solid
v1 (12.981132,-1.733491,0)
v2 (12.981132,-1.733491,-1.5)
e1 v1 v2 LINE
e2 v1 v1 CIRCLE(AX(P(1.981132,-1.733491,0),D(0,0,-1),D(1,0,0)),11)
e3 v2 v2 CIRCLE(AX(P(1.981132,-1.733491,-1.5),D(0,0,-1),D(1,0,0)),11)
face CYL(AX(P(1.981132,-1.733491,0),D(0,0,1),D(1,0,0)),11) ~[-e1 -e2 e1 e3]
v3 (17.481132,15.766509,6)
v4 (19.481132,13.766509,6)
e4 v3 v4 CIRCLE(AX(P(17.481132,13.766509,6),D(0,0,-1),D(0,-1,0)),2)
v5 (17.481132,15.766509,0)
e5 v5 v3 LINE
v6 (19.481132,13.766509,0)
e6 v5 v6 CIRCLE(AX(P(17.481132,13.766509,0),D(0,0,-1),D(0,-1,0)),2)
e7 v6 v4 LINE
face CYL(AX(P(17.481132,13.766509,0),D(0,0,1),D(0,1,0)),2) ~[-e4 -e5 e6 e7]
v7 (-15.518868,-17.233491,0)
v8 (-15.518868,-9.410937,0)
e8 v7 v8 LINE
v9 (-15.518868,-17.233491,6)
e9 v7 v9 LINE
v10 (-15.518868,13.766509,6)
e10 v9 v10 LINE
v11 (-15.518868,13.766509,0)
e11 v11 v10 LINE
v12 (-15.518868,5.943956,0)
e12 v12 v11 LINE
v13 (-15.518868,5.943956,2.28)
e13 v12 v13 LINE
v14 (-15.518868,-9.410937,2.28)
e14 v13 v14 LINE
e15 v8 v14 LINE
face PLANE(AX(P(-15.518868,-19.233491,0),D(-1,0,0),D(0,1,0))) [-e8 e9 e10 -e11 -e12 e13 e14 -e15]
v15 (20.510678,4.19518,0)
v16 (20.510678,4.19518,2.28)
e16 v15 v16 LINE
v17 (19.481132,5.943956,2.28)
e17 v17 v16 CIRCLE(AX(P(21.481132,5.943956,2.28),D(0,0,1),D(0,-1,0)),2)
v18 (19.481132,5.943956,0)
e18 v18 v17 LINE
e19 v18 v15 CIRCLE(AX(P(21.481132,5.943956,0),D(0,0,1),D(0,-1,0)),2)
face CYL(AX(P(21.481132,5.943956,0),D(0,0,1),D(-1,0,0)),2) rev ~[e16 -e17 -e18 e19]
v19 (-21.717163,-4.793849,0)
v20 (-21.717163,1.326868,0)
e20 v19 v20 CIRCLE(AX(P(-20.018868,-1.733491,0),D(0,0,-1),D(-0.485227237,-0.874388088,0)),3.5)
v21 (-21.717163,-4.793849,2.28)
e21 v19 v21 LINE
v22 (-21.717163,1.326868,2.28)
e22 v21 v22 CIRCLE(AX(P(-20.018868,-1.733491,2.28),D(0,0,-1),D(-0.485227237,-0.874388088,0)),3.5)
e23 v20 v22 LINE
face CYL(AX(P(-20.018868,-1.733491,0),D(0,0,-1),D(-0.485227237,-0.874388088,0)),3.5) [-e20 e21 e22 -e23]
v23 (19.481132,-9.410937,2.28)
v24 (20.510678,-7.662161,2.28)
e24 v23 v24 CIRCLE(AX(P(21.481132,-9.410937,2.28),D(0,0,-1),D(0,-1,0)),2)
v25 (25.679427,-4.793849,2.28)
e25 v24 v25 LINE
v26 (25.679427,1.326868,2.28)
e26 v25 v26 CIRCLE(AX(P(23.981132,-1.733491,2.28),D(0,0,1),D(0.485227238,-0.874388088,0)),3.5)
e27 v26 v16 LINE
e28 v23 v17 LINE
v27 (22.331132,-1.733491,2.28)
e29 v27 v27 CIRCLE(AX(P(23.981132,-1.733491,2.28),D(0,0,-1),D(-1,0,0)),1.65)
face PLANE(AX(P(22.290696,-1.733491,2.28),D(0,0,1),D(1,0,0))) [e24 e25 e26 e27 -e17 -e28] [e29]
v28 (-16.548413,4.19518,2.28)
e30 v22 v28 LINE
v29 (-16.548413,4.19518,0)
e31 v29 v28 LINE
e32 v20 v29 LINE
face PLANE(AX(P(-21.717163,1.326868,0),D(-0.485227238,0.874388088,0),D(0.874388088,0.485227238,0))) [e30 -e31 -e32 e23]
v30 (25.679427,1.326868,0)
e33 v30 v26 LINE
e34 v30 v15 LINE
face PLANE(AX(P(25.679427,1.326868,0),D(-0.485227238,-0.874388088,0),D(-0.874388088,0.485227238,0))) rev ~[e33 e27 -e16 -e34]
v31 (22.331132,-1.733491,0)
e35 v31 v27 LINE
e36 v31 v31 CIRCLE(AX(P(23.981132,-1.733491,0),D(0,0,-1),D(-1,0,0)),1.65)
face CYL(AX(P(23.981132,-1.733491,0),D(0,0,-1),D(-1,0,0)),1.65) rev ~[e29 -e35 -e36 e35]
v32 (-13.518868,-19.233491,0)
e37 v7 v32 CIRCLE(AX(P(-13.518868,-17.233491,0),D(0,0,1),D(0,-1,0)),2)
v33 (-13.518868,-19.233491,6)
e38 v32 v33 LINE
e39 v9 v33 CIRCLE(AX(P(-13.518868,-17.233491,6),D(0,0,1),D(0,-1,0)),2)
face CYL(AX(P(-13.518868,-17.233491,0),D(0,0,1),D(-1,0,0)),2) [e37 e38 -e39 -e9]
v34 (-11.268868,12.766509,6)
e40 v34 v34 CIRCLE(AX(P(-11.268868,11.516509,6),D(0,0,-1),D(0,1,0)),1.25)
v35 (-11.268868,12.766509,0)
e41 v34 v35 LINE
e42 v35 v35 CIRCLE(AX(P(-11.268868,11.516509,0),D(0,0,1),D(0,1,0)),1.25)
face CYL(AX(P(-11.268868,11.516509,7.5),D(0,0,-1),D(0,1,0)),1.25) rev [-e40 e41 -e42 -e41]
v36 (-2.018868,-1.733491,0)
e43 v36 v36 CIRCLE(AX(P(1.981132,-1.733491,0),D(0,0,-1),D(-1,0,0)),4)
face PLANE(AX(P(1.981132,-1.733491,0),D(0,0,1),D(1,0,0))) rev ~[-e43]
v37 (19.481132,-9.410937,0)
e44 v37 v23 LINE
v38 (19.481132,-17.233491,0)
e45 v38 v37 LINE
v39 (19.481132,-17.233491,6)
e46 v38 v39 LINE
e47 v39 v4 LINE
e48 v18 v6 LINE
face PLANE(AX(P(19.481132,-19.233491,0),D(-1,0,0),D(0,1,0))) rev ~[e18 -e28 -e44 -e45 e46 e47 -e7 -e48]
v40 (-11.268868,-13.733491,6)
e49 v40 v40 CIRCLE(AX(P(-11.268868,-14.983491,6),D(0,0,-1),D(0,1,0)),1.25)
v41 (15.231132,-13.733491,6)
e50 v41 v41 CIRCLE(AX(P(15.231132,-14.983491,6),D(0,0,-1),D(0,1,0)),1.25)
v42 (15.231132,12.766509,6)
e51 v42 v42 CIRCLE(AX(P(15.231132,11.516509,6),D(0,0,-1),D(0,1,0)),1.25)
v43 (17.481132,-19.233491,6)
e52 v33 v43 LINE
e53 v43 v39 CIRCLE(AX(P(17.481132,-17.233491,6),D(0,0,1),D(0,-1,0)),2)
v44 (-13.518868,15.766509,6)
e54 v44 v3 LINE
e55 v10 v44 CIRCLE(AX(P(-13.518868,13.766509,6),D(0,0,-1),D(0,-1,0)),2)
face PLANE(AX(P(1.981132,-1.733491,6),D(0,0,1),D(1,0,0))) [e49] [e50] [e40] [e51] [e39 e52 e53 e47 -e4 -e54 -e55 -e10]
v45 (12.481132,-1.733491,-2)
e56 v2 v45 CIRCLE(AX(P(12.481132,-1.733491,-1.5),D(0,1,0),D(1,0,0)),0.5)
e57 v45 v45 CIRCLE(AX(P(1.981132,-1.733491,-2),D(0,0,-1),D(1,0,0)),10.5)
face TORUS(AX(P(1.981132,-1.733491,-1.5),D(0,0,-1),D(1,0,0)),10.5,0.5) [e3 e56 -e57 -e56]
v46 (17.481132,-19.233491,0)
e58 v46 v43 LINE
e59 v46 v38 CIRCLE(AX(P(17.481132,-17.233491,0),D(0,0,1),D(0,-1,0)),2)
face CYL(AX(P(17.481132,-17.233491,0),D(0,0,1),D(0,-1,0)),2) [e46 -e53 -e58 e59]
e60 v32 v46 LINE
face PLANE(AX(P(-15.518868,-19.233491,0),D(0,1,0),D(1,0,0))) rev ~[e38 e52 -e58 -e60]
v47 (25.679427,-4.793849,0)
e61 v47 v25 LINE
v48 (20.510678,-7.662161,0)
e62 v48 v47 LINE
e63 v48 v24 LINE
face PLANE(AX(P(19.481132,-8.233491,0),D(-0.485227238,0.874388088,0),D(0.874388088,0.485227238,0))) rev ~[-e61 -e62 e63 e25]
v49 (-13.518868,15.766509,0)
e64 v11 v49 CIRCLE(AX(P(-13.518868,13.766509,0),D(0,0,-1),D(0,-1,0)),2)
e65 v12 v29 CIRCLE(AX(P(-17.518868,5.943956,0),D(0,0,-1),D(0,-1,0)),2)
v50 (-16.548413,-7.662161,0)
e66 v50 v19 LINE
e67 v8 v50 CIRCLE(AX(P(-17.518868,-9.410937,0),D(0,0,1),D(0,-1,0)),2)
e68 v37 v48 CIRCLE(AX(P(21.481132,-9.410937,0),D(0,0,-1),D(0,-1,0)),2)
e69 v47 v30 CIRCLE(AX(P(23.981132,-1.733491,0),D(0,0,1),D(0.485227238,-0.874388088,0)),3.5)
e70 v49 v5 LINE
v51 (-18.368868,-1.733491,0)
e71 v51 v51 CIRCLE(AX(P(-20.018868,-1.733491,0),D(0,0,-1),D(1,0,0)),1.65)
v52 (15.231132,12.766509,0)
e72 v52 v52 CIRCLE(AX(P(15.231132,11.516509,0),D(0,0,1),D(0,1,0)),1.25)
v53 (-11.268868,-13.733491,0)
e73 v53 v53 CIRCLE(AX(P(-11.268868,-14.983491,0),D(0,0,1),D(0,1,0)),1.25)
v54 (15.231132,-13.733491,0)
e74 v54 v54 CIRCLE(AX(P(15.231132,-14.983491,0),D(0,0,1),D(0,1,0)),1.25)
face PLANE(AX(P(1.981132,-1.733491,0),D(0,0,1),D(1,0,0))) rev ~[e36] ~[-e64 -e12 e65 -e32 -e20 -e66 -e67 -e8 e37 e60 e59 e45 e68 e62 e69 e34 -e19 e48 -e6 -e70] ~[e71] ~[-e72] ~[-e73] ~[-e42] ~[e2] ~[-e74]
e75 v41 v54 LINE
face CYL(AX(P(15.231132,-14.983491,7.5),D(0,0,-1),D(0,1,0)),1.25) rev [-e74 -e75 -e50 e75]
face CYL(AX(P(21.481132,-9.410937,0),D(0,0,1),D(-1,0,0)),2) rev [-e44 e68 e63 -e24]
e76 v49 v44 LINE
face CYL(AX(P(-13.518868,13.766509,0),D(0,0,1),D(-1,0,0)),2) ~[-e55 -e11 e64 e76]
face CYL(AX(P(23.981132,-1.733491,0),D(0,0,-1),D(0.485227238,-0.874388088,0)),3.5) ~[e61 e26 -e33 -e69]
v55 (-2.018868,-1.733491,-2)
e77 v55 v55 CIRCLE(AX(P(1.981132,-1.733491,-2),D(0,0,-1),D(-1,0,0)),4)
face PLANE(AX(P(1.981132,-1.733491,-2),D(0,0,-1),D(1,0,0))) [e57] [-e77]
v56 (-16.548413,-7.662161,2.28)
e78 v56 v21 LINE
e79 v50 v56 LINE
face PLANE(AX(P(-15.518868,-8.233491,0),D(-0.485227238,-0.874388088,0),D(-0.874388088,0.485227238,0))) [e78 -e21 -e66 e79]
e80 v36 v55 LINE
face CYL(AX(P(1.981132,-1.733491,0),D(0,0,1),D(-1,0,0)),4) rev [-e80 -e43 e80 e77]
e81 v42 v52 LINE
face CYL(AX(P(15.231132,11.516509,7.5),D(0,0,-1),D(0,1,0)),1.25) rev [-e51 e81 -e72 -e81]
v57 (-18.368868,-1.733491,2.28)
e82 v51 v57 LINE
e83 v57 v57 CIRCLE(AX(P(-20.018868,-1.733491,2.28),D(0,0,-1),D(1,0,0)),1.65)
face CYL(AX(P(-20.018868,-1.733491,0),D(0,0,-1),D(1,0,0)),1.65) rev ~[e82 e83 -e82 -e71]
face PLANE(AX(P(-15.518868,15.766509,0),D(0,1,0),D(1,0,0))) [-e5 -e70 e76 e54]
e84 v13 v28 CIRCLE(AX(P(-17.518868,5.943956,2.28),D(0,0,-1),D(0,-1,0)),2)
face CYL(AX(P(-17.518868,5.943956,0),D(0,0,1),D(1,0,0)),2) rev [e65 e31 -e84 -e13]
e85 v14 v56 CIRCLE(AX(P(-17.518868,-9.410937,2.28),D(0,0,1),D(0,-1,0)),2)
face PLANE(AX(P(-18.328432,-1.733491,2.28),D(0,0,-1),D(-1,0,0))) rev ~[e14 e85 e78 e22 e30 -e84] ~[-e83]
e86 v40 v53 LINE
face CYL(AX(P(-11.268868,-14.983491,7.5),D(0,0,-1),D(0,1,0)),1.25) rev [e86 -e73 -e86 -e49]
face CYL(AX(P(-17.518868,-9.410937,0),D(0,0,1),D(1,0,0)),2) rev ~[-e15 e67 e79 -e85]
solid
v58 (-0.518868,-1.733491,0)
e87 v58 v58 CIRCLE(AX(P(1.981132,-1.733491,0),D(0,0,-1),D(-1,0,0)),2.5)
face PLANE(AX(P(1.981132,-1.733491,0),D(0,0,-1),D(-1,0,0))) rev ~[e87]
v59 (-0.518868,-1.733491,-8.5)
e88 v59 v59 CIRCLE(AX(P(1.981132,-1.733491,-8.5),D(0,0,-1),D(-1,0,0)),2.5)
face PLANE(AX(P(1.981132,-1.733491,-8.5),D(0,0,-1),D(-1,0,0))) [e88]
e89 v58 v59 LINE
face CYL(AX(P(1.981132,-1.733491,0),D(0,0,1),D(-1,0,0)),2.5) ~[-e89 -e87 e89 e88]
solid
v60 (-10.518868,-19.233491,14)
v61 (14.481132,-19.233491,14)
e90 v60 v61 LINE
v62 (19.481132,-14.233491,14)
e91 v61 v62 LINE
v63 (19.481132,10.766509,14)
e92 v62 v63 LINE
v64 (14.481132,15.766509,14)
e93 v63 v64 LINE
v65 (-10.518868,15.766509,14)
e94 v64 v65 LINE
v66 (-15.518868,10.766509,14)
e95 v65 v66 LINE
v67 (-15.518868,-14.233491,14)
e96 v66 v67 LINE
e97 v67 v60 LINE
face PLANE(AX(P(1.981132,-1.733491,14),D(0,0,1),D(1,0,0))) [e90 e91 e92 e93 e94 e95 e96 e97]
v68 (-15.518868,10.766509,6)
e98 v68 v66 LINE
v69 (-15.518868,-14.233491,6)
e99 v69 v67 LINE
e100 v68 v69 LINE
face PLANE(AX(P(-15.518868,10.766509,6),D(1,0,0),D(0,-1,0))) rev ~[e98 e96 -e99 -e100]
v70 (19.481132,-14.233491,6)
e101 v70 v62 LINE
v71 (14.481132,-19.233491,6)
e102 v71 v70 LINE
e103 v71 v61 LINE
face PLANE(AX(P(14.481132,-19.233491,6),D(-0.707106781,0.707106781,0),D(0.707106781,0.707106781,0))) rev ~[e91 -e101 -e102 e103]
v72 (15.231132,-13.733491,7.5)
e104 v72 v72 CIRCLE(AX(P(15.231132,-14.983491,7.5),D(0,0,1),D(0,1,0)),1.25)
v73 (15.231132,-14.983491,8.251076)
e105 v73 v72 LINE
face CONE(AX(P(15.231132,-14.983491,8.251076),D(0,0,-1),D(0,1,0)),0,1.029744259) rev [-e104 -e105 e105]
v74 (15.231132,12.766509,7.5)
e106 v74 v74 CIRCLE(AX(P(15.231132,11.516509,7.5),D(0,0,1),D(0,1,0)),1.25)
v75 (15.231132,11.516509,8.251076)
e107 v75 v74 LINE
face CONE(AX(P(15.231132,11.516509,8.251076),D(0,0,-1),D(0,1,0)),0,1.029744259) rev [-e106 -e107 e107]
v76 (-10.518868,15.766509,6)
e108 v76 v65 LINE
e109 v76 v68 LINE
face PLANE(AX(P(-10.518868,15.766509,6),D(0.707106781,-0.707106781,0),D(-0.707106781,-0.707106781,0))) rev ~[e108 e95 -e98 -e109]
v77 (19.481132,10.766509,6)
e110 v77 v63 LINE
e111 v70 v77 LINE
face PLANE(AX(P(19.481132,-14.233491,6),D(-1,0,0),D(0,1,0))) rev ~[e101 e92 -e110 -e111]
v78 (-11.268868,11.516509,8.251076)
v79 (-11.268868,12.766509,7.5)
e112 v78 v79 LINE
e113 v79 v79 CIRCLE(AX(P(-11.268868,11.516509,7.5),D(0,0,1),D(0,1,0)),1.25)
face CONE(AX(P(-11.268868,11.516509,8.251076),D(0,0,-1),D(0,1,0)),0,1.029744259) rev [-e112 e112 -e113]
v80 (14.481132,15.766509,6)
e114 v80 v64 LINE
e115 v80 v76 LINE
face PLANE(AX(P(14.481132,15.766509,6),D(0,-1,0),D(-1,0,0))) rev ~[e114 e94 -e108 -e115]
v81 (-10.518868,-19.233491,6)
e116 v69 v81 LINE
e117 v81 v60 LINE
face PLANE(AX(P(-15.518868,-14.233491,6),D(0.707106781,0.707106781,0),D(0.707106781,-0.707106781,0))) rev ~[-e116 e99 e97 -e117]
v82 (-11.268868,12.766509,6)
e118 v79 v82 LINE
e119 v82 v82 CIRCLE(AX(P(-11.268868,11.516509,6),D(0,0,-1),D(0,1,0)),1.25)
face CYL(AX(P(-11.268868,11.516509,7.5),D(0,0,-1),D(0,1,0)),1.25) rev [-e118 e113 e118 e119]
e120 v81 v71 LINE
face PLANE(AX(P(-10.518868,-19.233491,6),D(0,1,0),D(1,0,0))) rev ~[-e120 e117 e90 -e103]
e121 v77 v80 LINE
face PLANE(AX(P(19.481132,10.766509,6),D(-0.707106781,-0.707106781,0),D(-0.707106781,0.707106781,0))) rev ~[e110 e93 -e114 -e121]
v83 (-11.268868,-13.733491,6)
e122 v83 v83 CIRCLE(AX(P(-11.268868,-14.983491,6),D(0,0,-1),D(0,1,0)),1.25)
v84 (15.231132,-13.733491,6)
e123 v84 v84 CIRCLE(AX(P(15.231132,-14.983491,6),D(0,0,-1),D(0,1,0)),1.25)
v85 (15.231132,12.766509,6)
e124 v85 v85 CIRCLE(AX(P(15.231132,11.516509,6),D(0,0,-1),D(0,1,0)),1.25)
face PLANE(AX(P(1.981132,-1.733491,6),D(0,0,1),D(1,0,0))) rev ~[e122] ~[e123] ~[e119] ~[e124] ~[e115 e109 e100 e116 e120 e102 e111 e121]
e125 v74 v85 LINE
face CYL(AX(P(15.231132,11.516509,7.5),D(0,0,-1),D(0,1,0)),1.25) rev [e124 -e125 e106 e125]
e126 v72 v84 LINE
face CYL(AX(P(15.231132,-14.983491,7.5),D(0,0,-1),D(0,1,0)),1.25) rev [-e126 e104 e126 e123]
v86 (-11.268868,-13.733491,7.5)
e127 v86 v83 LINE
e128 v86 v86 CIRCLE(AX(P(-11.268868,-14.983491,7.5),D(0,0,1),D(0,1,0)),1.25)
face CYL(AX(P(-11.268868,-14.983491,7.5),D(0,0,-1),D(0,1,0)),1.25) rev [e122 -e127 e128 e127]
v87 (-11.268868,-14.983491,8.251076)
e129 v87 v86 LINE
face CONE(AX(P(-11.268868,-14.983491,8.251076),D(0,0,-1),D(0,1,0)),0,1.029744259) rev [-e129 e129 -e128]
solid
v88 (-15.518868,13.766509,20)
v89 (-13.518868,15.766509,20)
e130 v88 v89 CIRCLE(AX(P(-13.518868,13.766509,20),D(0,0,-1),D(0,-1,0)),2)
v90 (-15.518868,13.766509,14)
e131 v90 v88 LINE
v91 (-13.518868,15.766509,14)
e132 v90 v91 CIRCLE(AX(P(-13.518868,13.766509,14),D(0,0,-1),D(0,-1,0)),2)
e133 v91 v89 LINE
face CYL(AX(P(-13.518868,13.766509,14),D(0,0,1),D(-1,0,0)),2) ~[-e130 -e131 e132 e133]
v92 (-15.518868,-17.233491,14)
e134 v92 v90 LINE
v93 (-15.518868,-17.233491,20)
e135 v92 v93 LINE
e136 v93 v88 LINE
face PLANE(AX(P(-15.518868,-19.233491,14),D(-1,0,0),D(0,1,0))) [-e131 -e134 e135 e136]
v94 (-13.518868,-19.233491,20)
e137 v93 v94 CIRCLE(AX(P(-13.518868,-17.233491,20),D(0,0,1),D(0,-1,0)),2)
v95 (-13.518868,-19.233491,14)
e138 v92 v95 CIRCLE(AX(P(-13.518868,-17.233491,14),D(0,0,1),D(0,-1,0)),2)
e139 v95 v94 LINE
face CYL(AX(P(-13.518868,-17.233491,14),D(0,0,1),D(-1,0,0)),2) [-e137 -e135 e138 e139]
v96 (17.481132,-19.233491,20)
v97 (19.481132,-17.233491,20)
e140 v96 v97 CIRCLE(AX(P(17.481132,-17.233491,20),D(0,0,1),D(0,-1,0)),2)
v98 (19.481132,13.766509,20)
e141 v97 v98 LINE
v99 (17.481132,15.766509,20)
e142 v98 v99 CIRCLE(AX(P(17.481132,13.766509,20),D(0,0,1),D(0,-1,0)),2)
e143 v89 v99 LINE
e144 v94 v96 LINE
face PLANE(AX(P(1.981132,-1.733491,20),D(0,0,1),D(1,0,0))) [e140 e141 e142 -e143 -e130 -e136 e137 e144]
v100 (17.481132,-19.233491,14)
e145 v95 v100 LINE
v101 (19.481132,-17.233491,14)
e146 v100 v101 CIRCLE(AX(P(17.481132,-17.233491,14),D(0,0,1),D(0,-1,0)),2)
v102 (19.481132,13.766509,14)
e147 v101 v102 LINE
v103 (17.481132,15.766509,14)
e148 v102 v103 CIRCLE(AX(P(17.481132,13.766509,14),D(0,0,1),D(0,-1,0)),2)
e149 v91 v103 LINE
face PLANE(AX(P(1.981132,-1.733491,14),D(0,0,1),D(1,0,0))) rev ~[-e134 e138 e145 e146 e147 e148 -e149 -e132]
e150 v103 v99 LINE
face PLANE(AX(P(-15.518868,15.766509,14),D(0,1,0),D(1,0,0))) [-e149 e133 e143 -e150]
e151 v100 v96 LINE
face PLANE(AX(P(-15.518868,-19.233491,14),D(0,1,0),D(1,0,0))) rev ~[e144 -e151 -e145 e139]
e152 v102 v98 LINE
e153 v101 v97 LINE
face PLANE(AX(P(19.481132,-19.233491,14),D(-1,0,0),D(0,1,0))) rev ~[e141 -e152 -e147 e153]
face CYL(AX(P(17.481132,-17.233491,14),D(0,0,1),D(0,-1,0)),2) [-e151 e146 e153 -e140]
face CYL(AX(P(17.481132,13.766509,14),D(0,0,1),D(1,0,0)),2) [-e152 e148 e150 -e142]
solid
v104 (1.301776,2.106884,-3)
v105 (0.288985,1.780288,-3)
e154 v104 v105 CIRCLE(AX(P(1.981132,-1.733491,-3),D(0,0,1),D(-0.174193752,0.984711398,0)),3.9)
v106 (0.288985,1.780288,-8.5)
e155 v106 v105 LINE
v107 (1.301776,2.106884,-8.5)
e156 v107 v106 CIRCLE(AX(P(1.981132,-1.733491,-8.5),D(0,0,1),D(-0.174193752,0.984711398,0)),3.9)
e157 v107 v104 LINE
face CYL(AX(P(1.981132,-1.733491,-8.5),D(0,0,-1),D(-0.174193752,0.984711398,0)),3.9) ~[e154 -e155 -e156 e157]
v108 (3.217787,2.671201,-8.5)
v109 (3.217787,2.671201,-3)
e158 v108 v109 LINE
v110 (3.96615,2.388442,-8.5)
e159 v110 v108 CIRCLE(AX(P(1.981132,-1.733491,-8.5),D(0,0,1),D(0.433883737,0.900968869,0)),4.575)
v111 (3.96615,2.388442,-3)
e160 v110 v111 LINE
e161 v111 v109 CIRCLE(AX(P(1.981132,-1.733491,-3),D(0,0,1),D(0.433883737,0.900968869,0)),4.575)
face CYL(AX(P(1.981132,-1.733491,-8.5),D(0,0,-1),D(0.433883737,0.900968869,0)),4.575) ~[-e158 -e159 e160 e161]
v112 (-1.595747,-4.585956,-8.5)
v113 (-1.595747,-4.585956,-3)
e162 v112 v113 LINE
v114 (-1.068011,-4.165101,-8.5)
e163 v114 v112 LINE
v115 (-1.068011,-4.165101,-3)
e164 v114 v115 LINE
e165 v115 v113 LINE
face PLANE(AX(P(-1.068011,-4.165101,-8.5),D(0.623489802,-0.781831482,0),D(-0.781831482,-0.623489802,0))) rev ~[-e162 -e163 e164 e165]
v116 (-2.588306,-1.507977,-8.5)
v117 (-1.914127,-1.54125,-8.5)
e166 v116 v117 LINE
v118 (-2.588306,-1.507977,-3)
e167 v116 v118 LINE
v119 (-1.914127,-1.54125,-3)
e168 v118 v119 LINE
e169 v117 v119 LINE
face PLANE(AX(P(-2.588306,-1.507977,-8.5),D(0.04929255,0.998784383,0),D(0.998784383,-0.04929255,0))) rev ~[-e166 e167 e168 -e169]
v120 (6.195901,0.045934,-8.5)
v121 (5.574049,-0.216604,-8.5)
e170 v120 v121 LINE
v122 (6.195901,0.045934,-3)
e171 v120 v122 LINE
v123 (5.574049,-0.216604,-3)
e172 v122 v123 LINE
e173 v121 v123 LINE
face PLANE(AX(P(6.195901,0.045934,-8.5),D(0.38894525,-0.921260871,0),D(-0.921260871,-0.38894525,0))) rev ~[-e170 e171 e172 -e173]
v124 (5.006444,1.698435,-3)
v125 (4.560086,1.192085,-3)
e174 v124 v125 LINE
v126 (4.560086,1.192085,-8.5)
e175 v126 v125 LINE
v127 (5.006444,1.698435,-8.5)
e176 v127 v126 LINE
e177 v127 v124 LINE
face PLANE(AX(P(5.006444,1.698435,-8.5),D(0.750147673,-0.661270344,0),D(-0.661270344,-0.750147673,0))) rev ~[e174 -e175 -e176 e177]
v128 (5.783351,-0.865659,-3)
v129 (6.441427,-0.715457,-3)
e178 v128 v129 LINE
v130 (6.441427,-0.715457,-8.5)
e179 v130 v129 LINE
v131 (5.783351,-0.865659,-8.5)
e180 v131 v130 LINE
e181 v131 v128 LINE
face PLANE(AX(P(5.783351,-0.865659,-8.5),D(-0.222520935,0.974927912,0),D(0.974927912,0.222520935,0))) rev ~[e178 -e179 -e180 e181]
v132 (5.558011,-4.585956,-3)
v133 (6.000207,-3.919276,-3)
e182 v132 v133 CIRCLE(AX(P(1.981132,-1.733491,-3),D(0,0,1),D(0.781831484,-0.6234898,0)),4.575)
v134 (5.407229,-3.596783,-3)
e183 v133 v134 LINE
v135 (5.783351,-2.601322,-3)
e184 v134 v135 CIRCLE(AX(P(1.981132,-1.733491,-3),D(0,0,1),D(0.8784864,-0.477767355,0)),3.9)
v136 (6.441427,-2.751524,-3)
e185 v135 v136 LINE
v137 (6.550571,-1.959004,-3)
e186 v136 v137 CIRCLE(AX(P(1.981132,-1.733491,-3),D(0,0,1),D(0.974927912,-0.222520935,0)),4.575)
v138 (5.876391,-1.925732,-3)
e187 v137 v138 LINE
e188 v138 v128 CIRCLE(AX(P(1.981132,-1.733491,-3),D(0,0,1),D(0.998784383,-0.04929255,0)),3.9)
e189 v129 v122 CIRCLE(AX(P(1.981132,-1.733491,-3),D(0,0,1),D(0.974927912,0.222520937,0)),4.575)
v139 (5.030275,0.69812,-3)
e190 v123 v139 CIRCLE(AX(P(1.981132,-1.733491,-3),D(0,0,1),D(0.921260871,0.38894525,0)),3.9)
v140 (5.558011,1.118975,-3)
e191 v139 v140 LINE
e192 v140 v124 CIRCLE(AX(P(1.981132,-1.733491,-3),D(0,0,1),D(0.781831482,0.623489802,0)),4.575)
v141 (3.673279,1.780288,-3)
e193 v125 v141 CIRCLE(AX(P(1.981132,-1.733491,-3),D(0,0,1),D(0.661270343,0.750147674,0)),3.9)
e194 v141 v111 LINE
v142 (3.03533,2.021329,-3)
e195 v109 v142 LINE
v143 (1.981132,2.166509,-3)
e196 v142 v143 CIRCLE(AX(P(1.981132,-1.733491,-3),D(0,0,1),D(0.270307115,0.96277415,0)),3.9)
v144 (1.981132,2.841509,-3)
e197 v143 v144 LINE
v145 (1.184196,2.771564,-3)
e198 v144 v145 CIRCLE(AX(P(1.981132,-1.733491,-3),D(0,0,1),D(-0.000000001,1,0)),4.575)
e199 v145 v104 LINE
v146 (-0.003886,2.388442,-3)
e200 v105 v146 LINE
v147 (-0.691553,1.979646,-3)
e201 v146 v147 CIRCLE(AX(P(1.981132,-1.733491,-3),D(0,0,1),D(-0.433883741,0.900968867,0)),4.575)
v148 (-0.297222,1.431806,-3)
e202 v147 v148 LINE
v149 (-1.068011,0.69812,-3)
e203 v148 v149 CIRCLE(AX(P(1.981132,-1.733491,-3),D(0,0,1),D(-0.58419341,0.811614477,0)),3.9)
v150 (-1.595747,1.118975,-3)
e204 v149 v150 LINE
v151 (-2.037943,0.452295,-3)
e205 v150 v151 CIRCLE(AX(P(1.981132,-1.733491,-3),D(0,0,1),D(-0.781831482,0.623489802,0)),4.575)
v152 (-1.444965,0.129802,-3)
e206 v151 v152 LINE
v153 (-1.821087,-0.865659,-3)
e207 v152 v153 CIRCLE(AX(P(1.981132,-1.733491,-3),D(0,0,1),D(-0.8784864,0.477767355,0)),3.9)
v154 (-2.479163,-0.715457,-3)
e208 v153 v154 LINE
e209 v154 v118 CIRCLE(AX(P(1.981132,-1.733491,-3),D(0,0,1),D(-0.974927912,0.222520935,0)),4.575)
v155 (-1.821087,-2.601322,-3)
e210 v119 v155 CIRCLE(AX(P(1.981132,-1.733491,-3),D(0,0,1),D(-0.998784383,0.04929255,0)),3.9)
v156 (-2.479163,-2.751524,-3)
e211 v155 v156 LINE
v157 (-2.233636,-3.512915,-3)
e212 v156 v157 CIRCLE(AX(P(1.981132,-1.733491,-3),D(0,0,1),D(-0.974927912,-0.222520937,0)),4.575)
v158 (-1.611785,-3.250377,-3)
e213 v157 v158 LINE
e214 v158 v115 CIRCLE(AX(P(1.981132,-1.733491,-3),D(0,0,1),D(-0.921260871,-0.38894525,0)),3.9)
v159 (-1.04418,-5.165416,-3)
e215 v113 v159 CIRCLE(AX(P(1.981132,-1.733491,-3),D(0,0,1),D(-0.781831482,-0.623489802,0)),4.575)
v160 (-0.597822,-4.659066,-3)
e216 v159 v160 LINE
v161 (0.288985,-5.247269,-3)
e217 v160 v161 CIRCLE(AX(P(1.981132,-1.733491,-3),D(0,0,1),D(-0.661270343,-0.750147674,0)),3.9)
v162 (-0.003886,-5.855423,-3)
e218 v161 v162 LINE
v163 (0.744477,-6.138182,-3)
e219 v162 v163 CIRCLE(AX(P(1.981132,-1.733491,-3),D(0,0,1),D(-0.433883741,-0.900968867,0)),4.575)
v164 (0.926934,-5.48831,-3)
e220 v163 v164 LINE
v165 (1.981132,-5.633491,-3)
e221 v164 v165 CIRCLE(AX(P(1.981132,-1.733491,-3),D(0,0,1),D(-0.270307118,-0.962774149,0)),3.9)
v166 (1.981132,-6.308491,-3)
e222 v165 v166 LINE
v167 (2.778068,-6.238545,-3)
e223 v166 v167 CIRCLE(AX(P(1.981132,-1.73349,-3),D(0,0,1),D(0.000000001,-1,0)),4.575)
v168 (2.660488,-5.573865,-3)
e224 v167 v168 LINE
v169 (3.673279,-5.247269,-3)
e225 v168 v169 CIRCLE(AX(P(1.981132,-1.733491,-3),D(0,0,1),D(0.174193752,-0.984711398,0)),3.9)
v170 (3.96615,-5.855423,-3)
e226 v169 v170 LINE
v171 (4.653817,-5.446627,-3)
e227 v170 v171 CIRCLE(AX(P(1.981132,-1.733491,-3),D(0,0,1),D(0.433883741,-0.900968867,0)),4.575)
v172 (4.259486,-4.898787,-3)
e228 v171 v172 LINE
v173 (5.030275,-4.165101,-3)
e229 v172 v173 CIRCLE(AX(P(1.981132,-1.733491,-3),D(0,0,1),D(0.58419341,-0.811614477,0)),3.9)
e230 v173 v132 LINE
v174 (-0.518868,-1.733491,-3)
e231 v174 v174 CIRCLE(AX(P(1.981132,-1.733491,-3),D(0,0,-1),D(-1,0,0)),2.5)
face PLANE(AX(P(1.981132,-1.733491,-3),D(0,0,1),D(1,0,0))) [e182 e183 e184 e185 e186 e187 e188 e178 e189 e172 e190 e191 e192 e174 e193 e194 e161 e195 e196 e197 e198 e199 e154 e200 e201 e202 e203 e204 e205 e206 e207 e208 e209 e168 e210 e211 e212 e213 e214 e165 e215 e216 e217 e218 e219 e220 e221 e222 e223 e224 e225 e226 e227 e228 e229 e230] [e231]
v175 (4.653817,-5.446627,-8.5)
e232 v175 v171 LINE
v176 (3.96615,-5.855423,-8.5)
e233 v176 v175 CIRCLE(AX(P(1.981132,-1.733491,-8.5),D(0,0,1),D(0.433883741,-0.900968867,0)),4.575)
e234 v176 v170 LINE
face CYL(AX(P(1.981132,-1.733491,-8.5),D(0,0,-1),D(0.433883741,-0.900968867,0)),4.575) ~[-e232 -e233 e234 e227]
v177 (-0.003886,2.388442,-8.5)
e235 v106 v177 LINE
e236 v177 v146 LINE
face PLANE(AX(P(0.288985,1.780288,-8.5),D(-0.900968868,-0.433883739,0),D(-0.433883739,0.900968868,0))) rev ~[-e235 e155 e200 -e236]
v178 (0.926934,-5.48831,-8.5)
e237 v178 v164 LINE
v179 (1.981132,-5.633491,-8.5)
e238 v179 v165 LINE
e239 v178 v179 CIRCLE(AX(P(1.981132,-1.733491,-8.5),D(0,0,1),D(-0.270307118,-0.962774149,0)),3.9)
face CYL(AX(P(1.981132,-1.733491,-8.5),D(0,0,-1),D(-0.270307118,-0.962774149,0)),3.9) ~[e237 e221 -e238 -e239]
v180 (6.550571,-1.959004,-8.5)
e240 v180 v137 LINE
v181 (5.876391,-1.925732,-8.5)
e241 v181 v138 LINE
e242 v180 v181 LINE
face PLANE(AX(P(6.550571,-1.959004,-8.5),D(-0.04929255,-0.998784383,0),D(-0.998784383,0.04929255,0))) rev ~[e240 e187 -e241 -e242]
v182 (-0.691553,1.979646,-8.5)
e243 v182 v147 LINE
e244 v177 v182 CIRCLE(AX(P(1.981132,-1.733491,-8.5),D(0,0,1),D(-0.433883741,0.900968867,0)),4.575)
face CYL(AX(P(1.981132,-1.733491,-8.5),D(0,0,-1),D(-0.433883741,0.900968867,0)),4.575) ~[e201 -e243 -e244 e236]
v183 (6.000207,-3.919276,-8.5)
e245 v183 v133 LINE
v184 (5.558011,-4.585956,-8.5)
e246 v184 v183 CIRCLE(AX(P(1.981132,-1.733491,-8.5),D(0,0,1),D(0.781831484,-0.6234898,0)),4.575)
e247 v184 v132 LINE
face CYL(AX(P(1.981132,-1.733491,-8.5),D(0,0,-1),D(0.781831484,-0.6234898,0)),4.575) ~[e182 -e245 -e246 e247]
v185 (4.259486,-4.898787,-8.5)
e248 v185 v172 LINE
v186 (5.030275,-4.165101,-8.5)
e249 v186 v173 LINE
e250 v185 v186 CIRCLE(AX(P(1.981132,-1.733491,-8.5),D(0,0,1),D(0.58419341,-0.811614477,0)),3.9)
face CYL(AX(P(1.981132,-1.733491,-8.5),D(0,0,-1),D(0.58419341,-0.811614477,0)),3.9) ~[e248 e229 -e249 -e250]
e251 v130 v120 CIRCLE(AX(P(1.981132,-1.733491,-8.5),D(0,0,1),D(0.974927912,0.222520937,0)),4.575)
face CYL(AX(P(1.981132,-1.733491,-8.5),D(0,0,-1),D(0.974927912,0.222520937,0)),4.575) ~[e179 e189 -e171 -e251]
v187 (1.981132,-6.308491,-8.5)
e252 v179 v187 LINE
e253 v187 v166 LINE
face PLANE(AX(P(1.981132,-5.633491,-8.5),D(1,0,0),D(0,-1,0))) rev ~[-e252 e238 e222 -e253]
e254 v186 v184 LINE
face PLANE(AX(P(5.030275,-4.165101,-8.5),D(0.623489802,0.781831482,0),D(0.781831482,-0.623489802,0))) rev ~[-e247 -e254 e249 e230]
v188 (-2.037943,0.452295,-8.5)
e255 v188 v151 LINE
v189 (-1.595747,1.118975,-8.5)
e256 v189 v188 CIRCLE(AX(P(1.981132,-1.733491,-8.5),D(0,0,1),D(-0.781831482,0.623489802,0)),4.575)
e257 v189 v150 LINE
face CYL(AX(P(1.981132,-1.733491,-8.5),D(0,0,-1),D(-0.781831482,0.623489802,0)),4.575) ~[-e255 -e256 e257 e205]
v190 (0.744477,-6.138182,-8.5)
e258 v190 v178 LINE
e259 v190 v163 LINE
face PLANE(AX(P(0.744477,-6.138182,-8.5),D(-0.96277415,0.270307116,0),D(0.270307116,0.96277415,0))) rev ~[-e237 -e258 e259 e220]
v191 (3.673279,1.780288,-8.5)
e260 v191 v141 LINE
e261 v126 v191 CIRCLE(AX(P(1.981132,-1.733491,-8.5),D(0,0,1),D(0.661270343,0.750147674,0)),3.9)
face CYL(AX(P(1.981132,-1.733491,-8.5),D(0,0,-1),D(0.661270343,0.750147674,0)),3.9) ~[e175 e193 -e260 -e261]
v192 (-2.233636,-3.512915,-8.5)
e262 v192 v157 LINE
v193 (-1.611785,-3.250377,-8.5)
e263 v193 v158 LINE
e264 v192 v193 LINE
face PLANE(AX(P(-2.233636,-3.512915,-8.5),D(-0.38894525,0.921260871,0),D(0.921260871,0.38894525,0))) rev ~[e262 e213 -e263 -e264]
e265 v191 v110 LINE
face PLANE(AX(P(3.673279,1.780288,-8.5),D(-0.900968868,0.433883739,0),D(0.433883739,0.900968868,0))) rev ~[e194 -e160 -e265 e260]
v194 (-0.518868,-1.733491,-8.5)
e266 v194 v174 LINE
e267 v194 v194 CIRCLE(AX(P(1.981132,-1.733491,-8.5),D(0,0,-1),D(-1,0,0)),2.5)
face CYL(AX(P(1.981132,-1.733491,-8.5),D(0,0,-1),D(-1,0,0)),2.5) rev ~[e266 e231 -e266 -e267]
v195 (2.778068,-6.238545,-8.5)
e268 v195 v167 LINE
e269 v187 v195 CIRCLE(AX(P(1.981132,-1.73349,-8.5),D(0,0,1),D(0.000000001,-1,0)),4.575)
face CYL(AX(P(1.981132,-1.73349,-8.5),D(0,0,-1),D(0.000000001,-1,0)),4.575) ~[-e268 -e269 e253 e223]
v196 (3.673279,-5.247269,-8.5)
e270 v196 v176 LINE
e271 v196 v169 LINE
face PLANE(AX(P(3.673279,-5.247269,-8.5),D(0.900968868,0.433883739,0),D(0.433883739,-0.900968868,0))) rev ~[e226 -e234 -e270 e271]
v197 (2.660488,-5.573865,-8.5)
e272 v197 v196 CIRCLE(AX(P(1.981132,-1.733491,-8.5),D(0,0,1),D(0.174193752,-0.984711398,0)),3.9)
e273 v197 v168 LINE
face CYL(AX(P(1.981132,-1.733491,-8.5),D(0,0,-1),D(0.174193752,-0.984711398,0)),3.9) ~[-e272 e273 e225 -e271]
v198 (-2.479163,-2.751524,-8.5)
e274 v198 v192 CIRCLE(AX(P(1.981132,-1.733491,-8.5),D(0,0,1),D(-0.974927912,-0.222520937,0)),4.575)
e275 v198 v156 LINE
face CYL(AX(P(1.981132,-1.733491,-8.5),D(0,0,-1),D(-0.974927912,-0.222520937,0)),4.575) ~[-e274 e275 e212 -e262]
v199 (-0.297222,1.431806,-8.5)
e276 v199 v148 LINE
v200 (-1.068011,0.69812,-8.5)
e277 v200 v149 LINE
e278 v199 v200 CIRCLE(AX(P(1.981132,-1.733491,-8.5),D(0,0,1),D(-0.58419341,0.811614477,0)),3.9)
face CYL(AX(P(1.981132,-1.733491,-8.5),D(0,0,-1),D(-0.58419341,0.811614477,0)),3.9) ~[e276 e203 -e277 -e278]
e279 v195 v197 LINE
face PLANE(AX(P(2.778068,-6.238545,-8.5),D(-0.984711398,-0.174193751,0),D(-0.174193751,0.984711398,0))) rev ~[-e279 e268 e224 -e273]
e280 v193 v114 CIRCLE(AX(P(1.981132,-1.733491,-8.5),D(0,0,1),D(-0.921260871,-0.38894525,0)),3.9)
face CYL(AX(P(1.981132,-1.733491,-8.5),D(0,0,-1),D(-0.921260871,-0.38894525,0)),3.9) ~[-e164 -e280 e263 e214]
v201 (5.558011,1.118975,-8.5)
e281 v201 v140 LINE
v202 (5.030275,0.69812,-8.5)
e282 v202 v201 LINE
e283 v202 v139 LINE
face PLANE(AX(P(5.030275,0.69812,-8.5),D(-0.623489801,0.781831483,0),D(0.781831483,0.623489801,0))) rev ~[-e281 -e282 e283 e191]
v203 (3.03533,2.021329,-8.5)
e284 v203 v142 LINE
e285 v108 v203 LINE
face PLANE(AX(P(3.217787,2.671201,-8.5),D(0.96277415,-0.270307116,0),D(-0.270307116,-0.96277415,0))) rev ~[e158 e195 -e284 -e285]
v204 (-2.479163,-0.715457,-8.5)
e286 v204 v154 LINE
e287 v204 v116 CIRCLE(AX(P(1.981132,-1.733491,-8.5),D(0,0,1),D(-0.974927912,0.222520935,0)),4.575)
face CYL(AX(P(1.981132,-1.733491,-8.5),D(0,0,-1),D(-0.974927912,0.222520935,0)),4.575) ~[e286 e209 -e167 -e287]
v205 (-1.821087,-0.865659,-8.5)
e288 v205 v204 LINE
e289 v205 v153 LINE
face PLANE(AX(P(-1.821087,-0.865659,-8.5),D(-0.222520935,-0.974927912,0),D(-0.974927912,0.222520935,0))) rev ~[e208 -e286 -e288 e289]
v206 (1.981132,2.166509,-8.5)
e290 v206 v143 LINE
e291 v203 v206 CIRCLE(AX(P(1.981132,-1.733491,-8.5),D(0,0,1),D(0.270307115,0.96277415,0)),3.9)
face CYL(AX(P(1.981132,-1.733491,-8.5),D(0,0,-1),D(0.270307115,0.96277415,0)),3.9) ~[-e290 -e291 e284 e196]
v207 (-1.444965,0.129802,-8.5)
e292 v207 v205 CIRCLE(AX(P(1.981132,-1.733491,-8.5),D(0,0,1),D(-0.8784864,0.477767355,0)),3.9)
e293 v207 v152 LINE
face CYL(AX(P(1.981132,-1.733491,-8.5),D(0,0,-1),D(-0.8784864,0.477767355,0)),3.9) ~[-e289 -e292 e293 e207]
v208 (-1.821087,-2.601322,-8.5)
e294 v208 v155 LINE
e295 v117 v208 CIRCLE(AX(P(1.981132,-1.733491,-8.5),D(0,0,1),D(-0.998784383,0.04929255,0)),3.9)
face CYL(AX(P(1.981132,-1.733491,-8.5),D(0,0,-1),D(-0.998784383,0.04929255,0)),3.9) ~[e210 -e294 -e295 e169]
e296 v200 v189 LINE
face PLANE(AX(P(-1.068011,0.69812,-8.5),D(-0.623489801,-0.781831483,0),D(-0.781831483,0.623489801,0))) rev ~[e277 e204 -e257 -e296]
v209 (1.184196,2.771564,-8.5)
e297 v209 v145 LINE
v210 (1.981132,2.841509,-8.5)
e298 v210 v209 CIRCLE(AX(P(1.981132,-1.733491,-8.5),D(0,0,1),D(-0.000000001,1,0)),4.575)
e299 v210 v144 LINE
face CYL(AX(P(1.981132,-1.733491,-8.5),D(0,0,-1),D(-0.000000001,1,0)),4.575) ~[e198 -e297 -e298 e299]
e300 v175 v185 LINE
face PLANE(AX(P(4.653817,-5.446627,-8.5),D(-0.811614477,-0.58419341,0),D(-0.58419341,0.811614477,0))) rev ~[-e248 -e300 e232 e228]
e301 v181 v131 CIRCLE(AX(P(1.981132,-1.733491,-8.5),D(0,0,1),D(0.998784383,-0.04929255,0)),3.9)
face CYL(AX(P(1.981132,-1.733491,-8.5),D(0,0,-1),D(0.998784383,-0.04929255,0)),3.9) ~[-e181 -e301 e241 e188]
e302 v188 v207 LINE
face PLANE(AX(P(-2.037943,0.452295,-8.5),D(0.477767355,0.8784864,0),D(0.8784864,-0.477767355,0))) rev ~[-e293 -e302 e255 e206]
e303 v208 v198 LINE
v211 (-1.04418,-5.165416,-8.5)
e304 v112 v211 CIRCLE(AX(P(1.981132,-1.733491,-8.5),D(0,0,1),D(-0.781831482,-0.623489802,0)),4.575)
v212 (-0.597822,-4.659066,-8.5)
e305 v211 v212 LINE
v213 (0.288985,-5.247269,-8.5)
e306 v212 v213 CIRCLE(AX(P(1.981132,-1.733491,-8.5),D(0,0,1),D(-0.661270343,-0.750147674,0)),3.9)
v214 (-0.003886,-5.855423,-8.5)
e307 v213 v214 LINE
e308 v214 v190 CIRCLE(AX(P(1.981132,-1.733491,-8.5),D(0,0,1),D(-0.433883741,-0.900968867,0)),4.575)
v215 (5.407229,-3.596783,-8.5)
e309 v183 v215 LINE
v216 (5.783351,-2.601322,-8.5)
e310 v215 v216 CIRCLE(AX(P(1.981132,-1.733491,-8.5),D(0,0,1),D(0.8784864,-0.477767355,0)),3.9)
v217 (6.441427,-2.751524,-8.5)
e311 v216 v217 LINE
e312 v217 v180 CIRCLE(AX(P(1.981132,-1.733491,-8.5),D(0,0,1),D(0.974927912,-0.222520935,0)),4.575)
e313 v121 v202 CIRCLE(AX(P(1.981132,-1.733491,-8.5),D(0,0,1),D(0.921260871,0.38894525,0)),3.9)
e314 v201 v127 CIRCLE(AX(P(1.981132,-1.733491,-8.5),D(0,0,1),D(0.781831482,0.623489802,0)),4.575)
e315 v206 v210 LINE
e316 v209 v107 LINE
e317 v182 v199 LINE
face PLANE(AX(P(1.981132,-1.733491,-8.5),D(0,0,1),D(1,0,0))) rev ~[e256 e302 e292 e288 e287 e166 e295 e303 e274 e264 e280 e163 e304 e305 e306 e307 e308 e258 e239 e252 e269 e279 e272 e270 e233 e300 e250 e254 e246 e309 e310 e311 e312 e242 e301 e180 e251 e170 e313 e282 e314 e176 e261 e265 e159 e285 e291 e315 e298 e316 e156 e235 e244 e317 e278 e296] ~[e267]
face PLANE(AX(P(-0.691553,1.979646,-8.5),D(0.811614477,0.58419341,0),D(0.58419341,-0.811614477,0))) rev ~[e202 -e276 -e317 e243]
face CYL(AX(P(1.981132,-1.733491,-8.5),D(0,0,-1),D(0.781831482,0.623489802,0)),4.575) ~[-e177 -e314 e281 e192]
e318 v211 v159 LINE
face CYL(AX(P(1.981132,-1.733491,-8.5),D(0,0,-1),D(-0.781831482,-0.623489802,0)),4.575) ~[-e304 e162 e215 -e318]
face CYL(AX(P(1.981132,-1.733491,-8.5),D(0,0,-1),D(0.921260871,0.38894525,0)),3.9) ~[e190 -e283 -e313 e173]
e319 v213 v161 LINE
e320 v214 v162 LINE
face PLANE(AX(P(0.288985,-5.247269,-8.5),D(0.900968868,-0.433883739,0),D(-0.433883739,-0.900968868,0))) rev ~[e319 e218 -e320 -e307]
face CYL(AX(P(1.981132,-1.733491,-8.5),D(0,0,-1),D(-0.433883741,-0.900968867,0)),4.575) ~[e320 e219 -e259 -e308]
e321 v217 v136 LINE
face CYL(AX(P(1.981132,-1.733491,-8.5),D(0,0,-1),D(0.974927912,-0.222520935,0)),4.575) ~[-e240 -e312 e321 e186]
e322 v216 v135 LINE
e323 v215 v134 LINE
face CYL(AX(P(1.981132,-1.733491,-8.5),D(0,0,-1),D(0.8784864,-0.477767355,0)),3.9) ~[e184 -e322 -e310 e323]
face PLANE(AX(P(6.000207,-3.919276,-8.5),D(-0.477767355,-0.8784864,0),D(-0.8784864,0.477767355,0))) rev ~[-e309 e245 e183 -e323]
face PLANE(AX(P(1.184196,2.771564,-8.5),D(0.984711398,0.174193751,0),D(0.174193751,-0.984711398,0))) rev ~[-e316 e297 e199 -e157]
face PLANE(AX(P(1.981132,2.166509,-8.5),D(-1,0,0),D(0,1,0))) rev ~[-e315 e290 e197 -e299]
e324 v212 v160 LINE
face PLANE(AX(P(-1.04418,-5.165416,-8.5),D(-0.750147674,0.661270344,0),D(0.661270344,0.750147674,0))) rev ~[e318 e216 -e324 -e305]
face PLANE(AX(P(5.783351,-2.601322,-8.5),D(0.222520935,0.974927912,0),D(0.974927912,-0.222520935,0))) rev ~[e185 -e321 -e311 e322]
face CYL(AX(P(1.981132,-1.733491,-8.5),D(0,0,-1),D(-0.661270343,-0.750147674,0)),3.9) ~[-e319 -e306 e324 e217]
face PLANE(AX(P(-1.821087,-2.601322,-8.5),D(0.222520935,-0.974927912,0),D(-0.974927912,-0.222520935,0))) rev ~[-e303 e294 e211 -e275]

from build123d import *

# Parameters (mm, degrees)
SKETCH1_W                  = 35
SKETCH1_H                  = 35
BOSS_EXTRUDE1_DEPTH        = 6
BOSS_EXTRUDE2_DEPTH        = 8
SKETCH3_W                  = 35
SKETCH3_H                  = 35
BOSS_EXTRUDE3_DEPTH        = 6
M3_TAPPED_HOLE1_AT_2_COUNT = 2
M3_TAPPED_HOLE1_AT_2_PITCH = 26.5
M3_TAPPED_HOLE1_AT_3_COUNT = 2
M3_TAPPED_HOLE1_AT_3_PITCH = 37.476659403
M3_TAPPED_HOLE1_AT_4_COUNT = 2
M3_TAPPED_HOLE1_AT_4_PITCH = 26.5
FILLET1_R                  = 2
FILLET2_R                  = 2
SKETCH6_R                  = 11
SKETCH6_R_2                = 4
BOSS_EXTRUDE4_DEPTH        = 2
FILLET3_R                  = 0.5
SKETCH7_R                  = 2.5
BOSS_EXTRUDE5_DEPTH        = 8.5
SKETCH8_R                  = 2.5
BOSS_EXTRUDE6_DEPTH        = 5.5
SKETCH9_R                  = 1.65
BOSS_EXTRUDE7_DEPTH        = 2.28
FILLET4_R                  = 2


with BuildPart() as part:
    # Sketch1 → Boss-Extrude1 (new body)
    with BuildSketch(Plane.XY):
        with Locations((1.981132075, -1.733490566)):
            Rectangle(SKETCH1_W, SKETCH1_H)
    extrude(amount=BOSS_EXTRUDE1_DEPTH)


with BuildPart() as body_2:
    # Sketch2 → Boss-Extrude2 (new body)
    with BuildSketch(Plane.XY.offset(6)):
        Polygon((-10.518867925, 15.766509434), (-15.518867925, 10.766509434), (-15.518867925, -14.233490566), (-10.518867925, -19.233490566), (14.481132075, -19.233490566), (19.481132075, -14.233490566), (19.481132075, 10.766509434), (14.481132075, 15.766509434), align=None)
    extrude(amount=BOSS_EXTRUDE2_DEPTH)


with BuildPart() as body_3:
    # Sketch3 → Boss-Extrude3 (new body)
    with BuildSketch(Plane.XY.offset(14)):
        with Locations((1.981132075, -1.733490566)):
            Rectangle(SKETCH3_W, SKETCH3_H)
    extrude(amount=BOSS_EXTRUDE3_DEPTH)

    # Fillet2
    fillet2_edges = [body_3.edges().sort_by_distance(p)[0] for p in [
        (19.481132075, 15.766509434, 17),
        (19.481132075, -19.233490566, 17),
        (-15.518867925, -19.233490566, 17),
        (-15.518867925, 15.766509434, 17),
    ]]
    fillet(fillet2_edges, radius=FILLET2_R)


with BuildPart() as m3_tapped_hole1_tool:
    # Sketch4 → M3 Tapped Hole1 (revolve)
    with BuildSketch(Plane(origin=(15.231132075, 11.516509434, 0), x_dir=(0, 1, 0), z_dir=(1, 0, 0))):
        Polygon((0, 0), (0, 8.251075774), (1.25, 7.5), (1.25, 0), align=None)
    m3_tapped_hole1 = revolve(axis=Axis((15.231132075, 11.516509434, -6.35), (0, 0, 1)))


with BuildPart() as part_1:
    add(part.part)

    # M3 Tapped Hole1: cut by m3_tapped_hole1_tool
    add(m3_tapped_hole1_tool.part, mode=Mode.SUBTRACT)


with BuildPart() as body_2_1:
    add(body_2.part)

    # M3 Tapped Hole1: cut by m3_tapped_hole1_tool
    add(m3_tapped_hole1_tool.part, mode=Mode.SUBTRACT)


with BuildPart() as m3_tapped_hole1_at_2_tool:
    # M3 Tapped Hole1 at 2: M3 Tapped Hole1 ×2
    with Locations(*[(-i * M3_TAPPED_HOLE1_AT_2_PITCH, 0, 0) for i in range(1, M3_TAPPED_HOLE1_AT_2_COUNT)]):
        add(m3_tapped_hole1)


with BuildPart() as part_2:
    add(part_1.part)

    # M3 Tapped Hole1 at 2: cut by m3_tapped_hole1_at_2_tool
    add(m3_tapped_hole1_at_2_tool.part, mode=Mode.SUBTRACT)


with BuildPart() as body_2_2:
    add(body_2_1.part)

    # M3 Tapped Hole1 at 2: cut by m3_tapped_hole1_at_2_tool
    add(m3_tapped_hole1_at_2_tool.part, mode=Mode.SUBTRACT)


with BuildPart() as m3_tapped_hole1_at_3_tool:
    # M3 Tapped Hole1 at 3: M3 Tapped Hole1 ×2
    with Locations(*[Vector(-0.7071067811865476, -0.7071067811865476, 0) * (i * M3_TAPPED_HOLE1_AT_3_PITCH) for i in range(1, M3_TAPPED_HOLE1_AT_3_COUNT)]):
        add(m3_tapped_hole1)


with BuildPart() as part_3:
    add(part_2.part)

    # M3 Tapped Hole1 at 3: cut by m3_tapped_hole1_at_3_tool
    add(m3_tapped_hole1_at_3_tool.part, mode=Mode.SUBTRACT)


with BuildPart() as body_2_3:
    add(body_2_2.part)

    # M3 Tapped Hole1 at 3: cut by m3_tapped_hole1_at_3_tool
    add(m3_tapped_hole1_at_3_tool.part, mode=Mode.SUBTRACT)


with BuildPart() as m3_tapped_hole1_at_4_tool:
    # M3 Tapped Hole1 at 4: M3 Tapped Hole1 ×2
    with Locations(*[(0, -i * M3_TAPPED_HOLE1_AT_4_PITCH, 0) for i in range(1, M3_TAPPED_HOLE1_AT_4_COUNT)]):
        add(m3_tapped_hole1)


with BuildPart() as part_4:
    add(part_3.part)

    # M3 Tapped Hole1 at 4: cut by m3_tapped_hole1_at_4_tool
    add(m3_tapped_hole1_at_4_tool.part, mode=Mode.SUBTRACT)

    # Fillet1
    fillet1_edges = [part_4.edges().sort_by_distance(p)[0] for p in [
        (-15.518867925, 15.766509434, 3),
        (19.481132075, 15.766509434, 3),
        (19.481132075, -19.233490566, 3),
        (-15.518867925, -19.233490566, 3),
    ]]
    fillet(fillet1_edges, radius=FILLET1_R)

    # Sketch6 → Boss-Extrude4 (add)
    with BuildSketch(Plane(origin=(0, 0, 0), x_dir=(-1, 0, 0), z_dir=(0, 0, -1))):
        with Locations(Location((-1.981132075, -1.733490566, 0), (0, 0, 180))):
            Circle(SKETCH6_R)
        with Locations((-1.981132075, -1.733490566)):
            Circle(SKETCH6_R_2, mode=Mode.SUBTRACT)
    extrude(amount=BOSS_EXTRUDE4_DEPTH)

    # Fillet3
    fillet3_edges = [part_4.edges().sort_by_distance(p)[0] for p in [
        (-9.018867925, -1.733490566, -2),
    ]]
    fillet(fillet3_edges, radius=FILLET3_R)

    # Sketch9 → Boss-Extrude7 (add)
    # profile 1 of 2: a face of its own
    with BuildSketch(Plane(origin=(0, 0, 0), x_dir=(-1, 0, 0), z_dir=(0, 0, -1))):
        with BuildLine():
            Line((-19.481132075, 4.766509434), (-19.481132075, -8.233490566))
            Line((-19.481132075, -8.233490566), (-25.679427407, -4.793848873))
            ThreePointArc((-25.679427407, -4.793848873), (-27.481132075, -1.733490566), (-25.679427407, 1.326867741))
            Line((-25.679427407, 1.326867741), (-19.481132075, 4.766509434))
        make_face()
        with Locations((-23.981132075, -1.733490566)):
            Circle(SKETCH9_R, mode=Mode.SUBTRACT)
    # profile 2 of 2: a face of its own
    with BuildSketch(Plane(origin=(0, 0, 0), x_dir=(-1, 0, 0), z_dir=(0, 0, -1))):
        with BuildLine():
            Line((15.518867925, -8.233490566), (21.717163256, -4.793848873))
            ThreePointArc((21.717163256, -4.793848873), (23.518867925, -1.733490566), (21.717163256, 1.326867741))
            Line((21.717163256, 1.326867741), (15.518867925, 4.766509434))
            Line((15.518867925, 4.766509434), (15.518867925, -8.233490566))
        make_face()
        with Locations(Location((20.018867925, -1.733490566, 0), (0, 0, 180))):
            Circle(SKETCH9_R, mode=Mode.SUBTRACT)
    extrude(amount=-BOSS_EXTRUDE7_DEPTH)

    # Fillet4
    fillet4_edges = [part_4.edges().sort_by_distance(p)[0] for p in [
        (19.481132075, 4.766509434, 1.14),
        (19.481132075, -8.233490566, 1.14),
        (-15.518867925, -8.233490566, 1.14),
        (-15.518867925, 4.766509434, 1.14),
    ]]
    fillet(fillet4_edges, radius=FILLET4_R)


with BuildPart() as body_2_4:
    add(body_2_3.part)

    # M3 Tapped Hole1 at 4: cut by m3_tapped_hole1_at_4_tool
    add(m3_tapped_hole1_at_4_tool.part, mode=Mode.SUBTRACT)


with BuildPart() as body_4:
    # Sketch7 → Boss-Extrude5 (new body)
    with BuildSketch(Plane(origin=(0, 0, 0), x_dir=(-1, 0, 0), z_dir=(0, 0, -1))):
        with Locations((-1.981132075, -1.733490566)):
            Circle(SKETCH7_R)
    extrude(amount=BOSS_EXTRUDE5_DEPTH)


with BuildPart() as body_5:
    # Sketch8 → Boss-Extrude6 (new body)
    with BuildSketch(Plane(origin=(0, 0, -8.5), x_dir=(-1, 0, 0), z_dir=(0, 0, -1))):
        with BuildLine():
            Line((-1.981132075, 2.166509434), (-1.981132075, 2.841509434))
            ThreePointArc((-1.981132075, 2.841509434), (-1.581132075, 2.823989549), (-1.184195662, 2.771564079))
            Line((-1.184195662, 2.771564079), (-1.301776444, 2.106883885))
            ThreePointArc((-1.301776444, 2.106883885), (-0.784189344, 1.978291768), (-0.288985493, 1.780288019))
            Line((-0.288985493, 1.780288019), (0.003886031, 2.388442005))
            ThreePointArc((0.003886031, 2.388442005), (0.356671985, 2.199103638), (0.691552777, 1.979645666))
            Line((0.691552777, 1.979645666), (0.297222225, 1.431805894))
            ThreePointArc((0.297222225, 1.431805894), (0.70775806, 1.091375774), (1.068010706, 0.698119661))
            Line((1.068010706, 0.698119661), (1.595746957, 1.118975277))
            ThreePointArc((1.595746957, 1.118975277), (1.83144528, 0.795319215), (2.037943203, 0.452295084))
            Line((2.037943203, 0.452295084), (1.444964883, 0.129802119))
            ThreePointArc((1.444964883, 0.129802119), (1.667137796, -0.355039644), (1.821086782, -0.865658924))
            Line((1.821086782, -0.865658924), (2.479163123, -0.715457293))
            ThreePointArc((2.479163123, -0.715457293), (2.551090872, -1.109326999), (2.588306479, -1.507977153))
            Line((2.588306479, -1.507977153), (1.91412702, -1.541249624))
            ThreePointArc((1.91412702, -1.541249624), (1.903932941, -2.074474173), (1.821086782, -2.601322208))
            Line((1.821086782, -2.601322208), (2.479163123, -2.751523839))
            ThreePointArc((2.479163123, -2.751523839), (2.373074124, -3.137596463), (2.233636409, -3.512915087))
            Line((2.233636409, -3.512915087), (1.611785321, -3.250377043))
            ThreePointArc((1.611785321, -3.250377043), (1.371243312, -3.726372716), (1.068010706, -4.165100793))
            Line((1.068010706, -4.165100793), (1.595746957, -4.58595641))
            ThreePointArc((1.595746957, -4.58595641), (1.332653439, -4.887765533), (1.044179749, -5.165416172))
            Line((1.044179749, -5.165416172), (0.597822267, -4.659066492))
            ThreePointArc((0.597822267, -4.659066492), (0.174574623, -4.983556508), (-0.288985493, -5.247269151))
            Line((-0.288985493, -5.247269151), (0.003886031, -5.855423137))
            ThreePointArc((0.003886031, -5.855423137), (-0.364103109, -6.013191762), (-0.74447702, -6.1381823))
            Line((-0.74447702, -6.1381823), (-0.926934323, -5.488309749))
            ThreePointArc((-0.926934323, -5.488309749), (-1.449058215, -5.597024882), (-1.981132075, -5.633490566))
            Line((-1.981132075, -5.633490566), (-1.981132075, -6.308490566))
            ThreePointArc((-1.981132075, -6.308490566), (-2.381132075, -6.290970681), (-2.778068489, -6.238545211))
            Line((-2.778068489, -6.238545211), (-2.660487707, -5.573865017))
            ThreePointArc((-2.660487707, -5.573865017), (-3.178074807, -5.4452729), (-3.673278658, -5.247269151))
            Line((-3.673278658, -5.247269151), (-3.966150182, -5.855423137))
            ThreePointArc((-3.966150182, -5.855423137), (-4.318936136, -5.66608477), (-4.653816928, -5.446626798))
            Line((-4.653816928, -5.446626798), (-4.259486376, -4.898787026))
            ThreePointArc((-4.259486376, -4.898787026), (-4.670022211, -4.558356906), (-5.030274857, -4.165100793))
            Line((-5.030274857, -4.165100793), (-5.558011108, -4.58595641))
            ThreePointArc((-5.558011108, -4.58595641), (-5.793709431, -4.262300347), (-6.000207354, -3.919276216))
            Line((-6.000207354, -3.919276216), (-5.407229034, -3.596783251))
            ThreePointArc((-5.407229034, -3.596783251), (-5.629401947, -3.111941488), (-5.783350933, -2.601322208))
            Line((-5.783350933, -2.601322208), (-6.441427274, -2.751523839))
            ThreePointArc((-6.441427274, -2.751523839), (-6.513355023, -2.357654133), (-6.55057063, -1.959003979))
            Line((-6.55057063, -1.959003979), (-5.876391171, -1.925731508))
            ThreePointArc((-5.876391171, -1.925731508), (-5.866197092, -1.392506959), (-5.783350933, -0.865658924))
            Line((-5.783350933, -0.865658924), (-6.441427274, -0.715457293))
            ThreePointArc((-6.441427274, -0.715457293), (-6.335338275, -0.329384669), (-6.19590056, 0.045933955))
            Line((-6.19590056, 0.045933955), (-5.574049472, -0.216604089))
            ThreePointArc((-5.574049472, -0.216604089), (-5.333507463, 0.259391584), (-5.030274857, 0.698119661))
            Line((-5.030274857, 0.698119661), (-5.558011108, 1.118975277))
            ThreePointArc((-5.558011108, 1.118975277), (-5.294917589, 1.420784401), (-5.0064439, 1.698435039))
            Line((-5.0064439, 1.698435039), (-4.560086418, 1.19208536))
            ThreePointArc((-4.560086418, 1.19208536), (-4.136838774, 1.516575376), (-3.673278658, 1.780288019))
            Line((-3.673278658, 1.780288019), (-3.966150182, 2.388442005))
            ThreePointArc((-3.966150182, 2.388442005), (-3.598161042, 2.546210629), (-3.217787131, 2.671201168))
            Line((-3.217787131, 2.671201168), (-3.035329828, 2.021328617))
            ThreePointArc((-3.035329828, 2.021328617), (-2.513205936, 2.130043749), (-1.981132075, 2.166509434))
        make_face()
        with Locations((-1.981132075, -1.733490566)):
            Circle(SKETCH8_R, mode=Mode.SUBTRACT)
    extrude(amount=-BOSS_EXTRUDE6_DEPTH)


solid = Compound([body_3.part, part_4.part, body_2_4.part, body_4.part, body_5.part])
